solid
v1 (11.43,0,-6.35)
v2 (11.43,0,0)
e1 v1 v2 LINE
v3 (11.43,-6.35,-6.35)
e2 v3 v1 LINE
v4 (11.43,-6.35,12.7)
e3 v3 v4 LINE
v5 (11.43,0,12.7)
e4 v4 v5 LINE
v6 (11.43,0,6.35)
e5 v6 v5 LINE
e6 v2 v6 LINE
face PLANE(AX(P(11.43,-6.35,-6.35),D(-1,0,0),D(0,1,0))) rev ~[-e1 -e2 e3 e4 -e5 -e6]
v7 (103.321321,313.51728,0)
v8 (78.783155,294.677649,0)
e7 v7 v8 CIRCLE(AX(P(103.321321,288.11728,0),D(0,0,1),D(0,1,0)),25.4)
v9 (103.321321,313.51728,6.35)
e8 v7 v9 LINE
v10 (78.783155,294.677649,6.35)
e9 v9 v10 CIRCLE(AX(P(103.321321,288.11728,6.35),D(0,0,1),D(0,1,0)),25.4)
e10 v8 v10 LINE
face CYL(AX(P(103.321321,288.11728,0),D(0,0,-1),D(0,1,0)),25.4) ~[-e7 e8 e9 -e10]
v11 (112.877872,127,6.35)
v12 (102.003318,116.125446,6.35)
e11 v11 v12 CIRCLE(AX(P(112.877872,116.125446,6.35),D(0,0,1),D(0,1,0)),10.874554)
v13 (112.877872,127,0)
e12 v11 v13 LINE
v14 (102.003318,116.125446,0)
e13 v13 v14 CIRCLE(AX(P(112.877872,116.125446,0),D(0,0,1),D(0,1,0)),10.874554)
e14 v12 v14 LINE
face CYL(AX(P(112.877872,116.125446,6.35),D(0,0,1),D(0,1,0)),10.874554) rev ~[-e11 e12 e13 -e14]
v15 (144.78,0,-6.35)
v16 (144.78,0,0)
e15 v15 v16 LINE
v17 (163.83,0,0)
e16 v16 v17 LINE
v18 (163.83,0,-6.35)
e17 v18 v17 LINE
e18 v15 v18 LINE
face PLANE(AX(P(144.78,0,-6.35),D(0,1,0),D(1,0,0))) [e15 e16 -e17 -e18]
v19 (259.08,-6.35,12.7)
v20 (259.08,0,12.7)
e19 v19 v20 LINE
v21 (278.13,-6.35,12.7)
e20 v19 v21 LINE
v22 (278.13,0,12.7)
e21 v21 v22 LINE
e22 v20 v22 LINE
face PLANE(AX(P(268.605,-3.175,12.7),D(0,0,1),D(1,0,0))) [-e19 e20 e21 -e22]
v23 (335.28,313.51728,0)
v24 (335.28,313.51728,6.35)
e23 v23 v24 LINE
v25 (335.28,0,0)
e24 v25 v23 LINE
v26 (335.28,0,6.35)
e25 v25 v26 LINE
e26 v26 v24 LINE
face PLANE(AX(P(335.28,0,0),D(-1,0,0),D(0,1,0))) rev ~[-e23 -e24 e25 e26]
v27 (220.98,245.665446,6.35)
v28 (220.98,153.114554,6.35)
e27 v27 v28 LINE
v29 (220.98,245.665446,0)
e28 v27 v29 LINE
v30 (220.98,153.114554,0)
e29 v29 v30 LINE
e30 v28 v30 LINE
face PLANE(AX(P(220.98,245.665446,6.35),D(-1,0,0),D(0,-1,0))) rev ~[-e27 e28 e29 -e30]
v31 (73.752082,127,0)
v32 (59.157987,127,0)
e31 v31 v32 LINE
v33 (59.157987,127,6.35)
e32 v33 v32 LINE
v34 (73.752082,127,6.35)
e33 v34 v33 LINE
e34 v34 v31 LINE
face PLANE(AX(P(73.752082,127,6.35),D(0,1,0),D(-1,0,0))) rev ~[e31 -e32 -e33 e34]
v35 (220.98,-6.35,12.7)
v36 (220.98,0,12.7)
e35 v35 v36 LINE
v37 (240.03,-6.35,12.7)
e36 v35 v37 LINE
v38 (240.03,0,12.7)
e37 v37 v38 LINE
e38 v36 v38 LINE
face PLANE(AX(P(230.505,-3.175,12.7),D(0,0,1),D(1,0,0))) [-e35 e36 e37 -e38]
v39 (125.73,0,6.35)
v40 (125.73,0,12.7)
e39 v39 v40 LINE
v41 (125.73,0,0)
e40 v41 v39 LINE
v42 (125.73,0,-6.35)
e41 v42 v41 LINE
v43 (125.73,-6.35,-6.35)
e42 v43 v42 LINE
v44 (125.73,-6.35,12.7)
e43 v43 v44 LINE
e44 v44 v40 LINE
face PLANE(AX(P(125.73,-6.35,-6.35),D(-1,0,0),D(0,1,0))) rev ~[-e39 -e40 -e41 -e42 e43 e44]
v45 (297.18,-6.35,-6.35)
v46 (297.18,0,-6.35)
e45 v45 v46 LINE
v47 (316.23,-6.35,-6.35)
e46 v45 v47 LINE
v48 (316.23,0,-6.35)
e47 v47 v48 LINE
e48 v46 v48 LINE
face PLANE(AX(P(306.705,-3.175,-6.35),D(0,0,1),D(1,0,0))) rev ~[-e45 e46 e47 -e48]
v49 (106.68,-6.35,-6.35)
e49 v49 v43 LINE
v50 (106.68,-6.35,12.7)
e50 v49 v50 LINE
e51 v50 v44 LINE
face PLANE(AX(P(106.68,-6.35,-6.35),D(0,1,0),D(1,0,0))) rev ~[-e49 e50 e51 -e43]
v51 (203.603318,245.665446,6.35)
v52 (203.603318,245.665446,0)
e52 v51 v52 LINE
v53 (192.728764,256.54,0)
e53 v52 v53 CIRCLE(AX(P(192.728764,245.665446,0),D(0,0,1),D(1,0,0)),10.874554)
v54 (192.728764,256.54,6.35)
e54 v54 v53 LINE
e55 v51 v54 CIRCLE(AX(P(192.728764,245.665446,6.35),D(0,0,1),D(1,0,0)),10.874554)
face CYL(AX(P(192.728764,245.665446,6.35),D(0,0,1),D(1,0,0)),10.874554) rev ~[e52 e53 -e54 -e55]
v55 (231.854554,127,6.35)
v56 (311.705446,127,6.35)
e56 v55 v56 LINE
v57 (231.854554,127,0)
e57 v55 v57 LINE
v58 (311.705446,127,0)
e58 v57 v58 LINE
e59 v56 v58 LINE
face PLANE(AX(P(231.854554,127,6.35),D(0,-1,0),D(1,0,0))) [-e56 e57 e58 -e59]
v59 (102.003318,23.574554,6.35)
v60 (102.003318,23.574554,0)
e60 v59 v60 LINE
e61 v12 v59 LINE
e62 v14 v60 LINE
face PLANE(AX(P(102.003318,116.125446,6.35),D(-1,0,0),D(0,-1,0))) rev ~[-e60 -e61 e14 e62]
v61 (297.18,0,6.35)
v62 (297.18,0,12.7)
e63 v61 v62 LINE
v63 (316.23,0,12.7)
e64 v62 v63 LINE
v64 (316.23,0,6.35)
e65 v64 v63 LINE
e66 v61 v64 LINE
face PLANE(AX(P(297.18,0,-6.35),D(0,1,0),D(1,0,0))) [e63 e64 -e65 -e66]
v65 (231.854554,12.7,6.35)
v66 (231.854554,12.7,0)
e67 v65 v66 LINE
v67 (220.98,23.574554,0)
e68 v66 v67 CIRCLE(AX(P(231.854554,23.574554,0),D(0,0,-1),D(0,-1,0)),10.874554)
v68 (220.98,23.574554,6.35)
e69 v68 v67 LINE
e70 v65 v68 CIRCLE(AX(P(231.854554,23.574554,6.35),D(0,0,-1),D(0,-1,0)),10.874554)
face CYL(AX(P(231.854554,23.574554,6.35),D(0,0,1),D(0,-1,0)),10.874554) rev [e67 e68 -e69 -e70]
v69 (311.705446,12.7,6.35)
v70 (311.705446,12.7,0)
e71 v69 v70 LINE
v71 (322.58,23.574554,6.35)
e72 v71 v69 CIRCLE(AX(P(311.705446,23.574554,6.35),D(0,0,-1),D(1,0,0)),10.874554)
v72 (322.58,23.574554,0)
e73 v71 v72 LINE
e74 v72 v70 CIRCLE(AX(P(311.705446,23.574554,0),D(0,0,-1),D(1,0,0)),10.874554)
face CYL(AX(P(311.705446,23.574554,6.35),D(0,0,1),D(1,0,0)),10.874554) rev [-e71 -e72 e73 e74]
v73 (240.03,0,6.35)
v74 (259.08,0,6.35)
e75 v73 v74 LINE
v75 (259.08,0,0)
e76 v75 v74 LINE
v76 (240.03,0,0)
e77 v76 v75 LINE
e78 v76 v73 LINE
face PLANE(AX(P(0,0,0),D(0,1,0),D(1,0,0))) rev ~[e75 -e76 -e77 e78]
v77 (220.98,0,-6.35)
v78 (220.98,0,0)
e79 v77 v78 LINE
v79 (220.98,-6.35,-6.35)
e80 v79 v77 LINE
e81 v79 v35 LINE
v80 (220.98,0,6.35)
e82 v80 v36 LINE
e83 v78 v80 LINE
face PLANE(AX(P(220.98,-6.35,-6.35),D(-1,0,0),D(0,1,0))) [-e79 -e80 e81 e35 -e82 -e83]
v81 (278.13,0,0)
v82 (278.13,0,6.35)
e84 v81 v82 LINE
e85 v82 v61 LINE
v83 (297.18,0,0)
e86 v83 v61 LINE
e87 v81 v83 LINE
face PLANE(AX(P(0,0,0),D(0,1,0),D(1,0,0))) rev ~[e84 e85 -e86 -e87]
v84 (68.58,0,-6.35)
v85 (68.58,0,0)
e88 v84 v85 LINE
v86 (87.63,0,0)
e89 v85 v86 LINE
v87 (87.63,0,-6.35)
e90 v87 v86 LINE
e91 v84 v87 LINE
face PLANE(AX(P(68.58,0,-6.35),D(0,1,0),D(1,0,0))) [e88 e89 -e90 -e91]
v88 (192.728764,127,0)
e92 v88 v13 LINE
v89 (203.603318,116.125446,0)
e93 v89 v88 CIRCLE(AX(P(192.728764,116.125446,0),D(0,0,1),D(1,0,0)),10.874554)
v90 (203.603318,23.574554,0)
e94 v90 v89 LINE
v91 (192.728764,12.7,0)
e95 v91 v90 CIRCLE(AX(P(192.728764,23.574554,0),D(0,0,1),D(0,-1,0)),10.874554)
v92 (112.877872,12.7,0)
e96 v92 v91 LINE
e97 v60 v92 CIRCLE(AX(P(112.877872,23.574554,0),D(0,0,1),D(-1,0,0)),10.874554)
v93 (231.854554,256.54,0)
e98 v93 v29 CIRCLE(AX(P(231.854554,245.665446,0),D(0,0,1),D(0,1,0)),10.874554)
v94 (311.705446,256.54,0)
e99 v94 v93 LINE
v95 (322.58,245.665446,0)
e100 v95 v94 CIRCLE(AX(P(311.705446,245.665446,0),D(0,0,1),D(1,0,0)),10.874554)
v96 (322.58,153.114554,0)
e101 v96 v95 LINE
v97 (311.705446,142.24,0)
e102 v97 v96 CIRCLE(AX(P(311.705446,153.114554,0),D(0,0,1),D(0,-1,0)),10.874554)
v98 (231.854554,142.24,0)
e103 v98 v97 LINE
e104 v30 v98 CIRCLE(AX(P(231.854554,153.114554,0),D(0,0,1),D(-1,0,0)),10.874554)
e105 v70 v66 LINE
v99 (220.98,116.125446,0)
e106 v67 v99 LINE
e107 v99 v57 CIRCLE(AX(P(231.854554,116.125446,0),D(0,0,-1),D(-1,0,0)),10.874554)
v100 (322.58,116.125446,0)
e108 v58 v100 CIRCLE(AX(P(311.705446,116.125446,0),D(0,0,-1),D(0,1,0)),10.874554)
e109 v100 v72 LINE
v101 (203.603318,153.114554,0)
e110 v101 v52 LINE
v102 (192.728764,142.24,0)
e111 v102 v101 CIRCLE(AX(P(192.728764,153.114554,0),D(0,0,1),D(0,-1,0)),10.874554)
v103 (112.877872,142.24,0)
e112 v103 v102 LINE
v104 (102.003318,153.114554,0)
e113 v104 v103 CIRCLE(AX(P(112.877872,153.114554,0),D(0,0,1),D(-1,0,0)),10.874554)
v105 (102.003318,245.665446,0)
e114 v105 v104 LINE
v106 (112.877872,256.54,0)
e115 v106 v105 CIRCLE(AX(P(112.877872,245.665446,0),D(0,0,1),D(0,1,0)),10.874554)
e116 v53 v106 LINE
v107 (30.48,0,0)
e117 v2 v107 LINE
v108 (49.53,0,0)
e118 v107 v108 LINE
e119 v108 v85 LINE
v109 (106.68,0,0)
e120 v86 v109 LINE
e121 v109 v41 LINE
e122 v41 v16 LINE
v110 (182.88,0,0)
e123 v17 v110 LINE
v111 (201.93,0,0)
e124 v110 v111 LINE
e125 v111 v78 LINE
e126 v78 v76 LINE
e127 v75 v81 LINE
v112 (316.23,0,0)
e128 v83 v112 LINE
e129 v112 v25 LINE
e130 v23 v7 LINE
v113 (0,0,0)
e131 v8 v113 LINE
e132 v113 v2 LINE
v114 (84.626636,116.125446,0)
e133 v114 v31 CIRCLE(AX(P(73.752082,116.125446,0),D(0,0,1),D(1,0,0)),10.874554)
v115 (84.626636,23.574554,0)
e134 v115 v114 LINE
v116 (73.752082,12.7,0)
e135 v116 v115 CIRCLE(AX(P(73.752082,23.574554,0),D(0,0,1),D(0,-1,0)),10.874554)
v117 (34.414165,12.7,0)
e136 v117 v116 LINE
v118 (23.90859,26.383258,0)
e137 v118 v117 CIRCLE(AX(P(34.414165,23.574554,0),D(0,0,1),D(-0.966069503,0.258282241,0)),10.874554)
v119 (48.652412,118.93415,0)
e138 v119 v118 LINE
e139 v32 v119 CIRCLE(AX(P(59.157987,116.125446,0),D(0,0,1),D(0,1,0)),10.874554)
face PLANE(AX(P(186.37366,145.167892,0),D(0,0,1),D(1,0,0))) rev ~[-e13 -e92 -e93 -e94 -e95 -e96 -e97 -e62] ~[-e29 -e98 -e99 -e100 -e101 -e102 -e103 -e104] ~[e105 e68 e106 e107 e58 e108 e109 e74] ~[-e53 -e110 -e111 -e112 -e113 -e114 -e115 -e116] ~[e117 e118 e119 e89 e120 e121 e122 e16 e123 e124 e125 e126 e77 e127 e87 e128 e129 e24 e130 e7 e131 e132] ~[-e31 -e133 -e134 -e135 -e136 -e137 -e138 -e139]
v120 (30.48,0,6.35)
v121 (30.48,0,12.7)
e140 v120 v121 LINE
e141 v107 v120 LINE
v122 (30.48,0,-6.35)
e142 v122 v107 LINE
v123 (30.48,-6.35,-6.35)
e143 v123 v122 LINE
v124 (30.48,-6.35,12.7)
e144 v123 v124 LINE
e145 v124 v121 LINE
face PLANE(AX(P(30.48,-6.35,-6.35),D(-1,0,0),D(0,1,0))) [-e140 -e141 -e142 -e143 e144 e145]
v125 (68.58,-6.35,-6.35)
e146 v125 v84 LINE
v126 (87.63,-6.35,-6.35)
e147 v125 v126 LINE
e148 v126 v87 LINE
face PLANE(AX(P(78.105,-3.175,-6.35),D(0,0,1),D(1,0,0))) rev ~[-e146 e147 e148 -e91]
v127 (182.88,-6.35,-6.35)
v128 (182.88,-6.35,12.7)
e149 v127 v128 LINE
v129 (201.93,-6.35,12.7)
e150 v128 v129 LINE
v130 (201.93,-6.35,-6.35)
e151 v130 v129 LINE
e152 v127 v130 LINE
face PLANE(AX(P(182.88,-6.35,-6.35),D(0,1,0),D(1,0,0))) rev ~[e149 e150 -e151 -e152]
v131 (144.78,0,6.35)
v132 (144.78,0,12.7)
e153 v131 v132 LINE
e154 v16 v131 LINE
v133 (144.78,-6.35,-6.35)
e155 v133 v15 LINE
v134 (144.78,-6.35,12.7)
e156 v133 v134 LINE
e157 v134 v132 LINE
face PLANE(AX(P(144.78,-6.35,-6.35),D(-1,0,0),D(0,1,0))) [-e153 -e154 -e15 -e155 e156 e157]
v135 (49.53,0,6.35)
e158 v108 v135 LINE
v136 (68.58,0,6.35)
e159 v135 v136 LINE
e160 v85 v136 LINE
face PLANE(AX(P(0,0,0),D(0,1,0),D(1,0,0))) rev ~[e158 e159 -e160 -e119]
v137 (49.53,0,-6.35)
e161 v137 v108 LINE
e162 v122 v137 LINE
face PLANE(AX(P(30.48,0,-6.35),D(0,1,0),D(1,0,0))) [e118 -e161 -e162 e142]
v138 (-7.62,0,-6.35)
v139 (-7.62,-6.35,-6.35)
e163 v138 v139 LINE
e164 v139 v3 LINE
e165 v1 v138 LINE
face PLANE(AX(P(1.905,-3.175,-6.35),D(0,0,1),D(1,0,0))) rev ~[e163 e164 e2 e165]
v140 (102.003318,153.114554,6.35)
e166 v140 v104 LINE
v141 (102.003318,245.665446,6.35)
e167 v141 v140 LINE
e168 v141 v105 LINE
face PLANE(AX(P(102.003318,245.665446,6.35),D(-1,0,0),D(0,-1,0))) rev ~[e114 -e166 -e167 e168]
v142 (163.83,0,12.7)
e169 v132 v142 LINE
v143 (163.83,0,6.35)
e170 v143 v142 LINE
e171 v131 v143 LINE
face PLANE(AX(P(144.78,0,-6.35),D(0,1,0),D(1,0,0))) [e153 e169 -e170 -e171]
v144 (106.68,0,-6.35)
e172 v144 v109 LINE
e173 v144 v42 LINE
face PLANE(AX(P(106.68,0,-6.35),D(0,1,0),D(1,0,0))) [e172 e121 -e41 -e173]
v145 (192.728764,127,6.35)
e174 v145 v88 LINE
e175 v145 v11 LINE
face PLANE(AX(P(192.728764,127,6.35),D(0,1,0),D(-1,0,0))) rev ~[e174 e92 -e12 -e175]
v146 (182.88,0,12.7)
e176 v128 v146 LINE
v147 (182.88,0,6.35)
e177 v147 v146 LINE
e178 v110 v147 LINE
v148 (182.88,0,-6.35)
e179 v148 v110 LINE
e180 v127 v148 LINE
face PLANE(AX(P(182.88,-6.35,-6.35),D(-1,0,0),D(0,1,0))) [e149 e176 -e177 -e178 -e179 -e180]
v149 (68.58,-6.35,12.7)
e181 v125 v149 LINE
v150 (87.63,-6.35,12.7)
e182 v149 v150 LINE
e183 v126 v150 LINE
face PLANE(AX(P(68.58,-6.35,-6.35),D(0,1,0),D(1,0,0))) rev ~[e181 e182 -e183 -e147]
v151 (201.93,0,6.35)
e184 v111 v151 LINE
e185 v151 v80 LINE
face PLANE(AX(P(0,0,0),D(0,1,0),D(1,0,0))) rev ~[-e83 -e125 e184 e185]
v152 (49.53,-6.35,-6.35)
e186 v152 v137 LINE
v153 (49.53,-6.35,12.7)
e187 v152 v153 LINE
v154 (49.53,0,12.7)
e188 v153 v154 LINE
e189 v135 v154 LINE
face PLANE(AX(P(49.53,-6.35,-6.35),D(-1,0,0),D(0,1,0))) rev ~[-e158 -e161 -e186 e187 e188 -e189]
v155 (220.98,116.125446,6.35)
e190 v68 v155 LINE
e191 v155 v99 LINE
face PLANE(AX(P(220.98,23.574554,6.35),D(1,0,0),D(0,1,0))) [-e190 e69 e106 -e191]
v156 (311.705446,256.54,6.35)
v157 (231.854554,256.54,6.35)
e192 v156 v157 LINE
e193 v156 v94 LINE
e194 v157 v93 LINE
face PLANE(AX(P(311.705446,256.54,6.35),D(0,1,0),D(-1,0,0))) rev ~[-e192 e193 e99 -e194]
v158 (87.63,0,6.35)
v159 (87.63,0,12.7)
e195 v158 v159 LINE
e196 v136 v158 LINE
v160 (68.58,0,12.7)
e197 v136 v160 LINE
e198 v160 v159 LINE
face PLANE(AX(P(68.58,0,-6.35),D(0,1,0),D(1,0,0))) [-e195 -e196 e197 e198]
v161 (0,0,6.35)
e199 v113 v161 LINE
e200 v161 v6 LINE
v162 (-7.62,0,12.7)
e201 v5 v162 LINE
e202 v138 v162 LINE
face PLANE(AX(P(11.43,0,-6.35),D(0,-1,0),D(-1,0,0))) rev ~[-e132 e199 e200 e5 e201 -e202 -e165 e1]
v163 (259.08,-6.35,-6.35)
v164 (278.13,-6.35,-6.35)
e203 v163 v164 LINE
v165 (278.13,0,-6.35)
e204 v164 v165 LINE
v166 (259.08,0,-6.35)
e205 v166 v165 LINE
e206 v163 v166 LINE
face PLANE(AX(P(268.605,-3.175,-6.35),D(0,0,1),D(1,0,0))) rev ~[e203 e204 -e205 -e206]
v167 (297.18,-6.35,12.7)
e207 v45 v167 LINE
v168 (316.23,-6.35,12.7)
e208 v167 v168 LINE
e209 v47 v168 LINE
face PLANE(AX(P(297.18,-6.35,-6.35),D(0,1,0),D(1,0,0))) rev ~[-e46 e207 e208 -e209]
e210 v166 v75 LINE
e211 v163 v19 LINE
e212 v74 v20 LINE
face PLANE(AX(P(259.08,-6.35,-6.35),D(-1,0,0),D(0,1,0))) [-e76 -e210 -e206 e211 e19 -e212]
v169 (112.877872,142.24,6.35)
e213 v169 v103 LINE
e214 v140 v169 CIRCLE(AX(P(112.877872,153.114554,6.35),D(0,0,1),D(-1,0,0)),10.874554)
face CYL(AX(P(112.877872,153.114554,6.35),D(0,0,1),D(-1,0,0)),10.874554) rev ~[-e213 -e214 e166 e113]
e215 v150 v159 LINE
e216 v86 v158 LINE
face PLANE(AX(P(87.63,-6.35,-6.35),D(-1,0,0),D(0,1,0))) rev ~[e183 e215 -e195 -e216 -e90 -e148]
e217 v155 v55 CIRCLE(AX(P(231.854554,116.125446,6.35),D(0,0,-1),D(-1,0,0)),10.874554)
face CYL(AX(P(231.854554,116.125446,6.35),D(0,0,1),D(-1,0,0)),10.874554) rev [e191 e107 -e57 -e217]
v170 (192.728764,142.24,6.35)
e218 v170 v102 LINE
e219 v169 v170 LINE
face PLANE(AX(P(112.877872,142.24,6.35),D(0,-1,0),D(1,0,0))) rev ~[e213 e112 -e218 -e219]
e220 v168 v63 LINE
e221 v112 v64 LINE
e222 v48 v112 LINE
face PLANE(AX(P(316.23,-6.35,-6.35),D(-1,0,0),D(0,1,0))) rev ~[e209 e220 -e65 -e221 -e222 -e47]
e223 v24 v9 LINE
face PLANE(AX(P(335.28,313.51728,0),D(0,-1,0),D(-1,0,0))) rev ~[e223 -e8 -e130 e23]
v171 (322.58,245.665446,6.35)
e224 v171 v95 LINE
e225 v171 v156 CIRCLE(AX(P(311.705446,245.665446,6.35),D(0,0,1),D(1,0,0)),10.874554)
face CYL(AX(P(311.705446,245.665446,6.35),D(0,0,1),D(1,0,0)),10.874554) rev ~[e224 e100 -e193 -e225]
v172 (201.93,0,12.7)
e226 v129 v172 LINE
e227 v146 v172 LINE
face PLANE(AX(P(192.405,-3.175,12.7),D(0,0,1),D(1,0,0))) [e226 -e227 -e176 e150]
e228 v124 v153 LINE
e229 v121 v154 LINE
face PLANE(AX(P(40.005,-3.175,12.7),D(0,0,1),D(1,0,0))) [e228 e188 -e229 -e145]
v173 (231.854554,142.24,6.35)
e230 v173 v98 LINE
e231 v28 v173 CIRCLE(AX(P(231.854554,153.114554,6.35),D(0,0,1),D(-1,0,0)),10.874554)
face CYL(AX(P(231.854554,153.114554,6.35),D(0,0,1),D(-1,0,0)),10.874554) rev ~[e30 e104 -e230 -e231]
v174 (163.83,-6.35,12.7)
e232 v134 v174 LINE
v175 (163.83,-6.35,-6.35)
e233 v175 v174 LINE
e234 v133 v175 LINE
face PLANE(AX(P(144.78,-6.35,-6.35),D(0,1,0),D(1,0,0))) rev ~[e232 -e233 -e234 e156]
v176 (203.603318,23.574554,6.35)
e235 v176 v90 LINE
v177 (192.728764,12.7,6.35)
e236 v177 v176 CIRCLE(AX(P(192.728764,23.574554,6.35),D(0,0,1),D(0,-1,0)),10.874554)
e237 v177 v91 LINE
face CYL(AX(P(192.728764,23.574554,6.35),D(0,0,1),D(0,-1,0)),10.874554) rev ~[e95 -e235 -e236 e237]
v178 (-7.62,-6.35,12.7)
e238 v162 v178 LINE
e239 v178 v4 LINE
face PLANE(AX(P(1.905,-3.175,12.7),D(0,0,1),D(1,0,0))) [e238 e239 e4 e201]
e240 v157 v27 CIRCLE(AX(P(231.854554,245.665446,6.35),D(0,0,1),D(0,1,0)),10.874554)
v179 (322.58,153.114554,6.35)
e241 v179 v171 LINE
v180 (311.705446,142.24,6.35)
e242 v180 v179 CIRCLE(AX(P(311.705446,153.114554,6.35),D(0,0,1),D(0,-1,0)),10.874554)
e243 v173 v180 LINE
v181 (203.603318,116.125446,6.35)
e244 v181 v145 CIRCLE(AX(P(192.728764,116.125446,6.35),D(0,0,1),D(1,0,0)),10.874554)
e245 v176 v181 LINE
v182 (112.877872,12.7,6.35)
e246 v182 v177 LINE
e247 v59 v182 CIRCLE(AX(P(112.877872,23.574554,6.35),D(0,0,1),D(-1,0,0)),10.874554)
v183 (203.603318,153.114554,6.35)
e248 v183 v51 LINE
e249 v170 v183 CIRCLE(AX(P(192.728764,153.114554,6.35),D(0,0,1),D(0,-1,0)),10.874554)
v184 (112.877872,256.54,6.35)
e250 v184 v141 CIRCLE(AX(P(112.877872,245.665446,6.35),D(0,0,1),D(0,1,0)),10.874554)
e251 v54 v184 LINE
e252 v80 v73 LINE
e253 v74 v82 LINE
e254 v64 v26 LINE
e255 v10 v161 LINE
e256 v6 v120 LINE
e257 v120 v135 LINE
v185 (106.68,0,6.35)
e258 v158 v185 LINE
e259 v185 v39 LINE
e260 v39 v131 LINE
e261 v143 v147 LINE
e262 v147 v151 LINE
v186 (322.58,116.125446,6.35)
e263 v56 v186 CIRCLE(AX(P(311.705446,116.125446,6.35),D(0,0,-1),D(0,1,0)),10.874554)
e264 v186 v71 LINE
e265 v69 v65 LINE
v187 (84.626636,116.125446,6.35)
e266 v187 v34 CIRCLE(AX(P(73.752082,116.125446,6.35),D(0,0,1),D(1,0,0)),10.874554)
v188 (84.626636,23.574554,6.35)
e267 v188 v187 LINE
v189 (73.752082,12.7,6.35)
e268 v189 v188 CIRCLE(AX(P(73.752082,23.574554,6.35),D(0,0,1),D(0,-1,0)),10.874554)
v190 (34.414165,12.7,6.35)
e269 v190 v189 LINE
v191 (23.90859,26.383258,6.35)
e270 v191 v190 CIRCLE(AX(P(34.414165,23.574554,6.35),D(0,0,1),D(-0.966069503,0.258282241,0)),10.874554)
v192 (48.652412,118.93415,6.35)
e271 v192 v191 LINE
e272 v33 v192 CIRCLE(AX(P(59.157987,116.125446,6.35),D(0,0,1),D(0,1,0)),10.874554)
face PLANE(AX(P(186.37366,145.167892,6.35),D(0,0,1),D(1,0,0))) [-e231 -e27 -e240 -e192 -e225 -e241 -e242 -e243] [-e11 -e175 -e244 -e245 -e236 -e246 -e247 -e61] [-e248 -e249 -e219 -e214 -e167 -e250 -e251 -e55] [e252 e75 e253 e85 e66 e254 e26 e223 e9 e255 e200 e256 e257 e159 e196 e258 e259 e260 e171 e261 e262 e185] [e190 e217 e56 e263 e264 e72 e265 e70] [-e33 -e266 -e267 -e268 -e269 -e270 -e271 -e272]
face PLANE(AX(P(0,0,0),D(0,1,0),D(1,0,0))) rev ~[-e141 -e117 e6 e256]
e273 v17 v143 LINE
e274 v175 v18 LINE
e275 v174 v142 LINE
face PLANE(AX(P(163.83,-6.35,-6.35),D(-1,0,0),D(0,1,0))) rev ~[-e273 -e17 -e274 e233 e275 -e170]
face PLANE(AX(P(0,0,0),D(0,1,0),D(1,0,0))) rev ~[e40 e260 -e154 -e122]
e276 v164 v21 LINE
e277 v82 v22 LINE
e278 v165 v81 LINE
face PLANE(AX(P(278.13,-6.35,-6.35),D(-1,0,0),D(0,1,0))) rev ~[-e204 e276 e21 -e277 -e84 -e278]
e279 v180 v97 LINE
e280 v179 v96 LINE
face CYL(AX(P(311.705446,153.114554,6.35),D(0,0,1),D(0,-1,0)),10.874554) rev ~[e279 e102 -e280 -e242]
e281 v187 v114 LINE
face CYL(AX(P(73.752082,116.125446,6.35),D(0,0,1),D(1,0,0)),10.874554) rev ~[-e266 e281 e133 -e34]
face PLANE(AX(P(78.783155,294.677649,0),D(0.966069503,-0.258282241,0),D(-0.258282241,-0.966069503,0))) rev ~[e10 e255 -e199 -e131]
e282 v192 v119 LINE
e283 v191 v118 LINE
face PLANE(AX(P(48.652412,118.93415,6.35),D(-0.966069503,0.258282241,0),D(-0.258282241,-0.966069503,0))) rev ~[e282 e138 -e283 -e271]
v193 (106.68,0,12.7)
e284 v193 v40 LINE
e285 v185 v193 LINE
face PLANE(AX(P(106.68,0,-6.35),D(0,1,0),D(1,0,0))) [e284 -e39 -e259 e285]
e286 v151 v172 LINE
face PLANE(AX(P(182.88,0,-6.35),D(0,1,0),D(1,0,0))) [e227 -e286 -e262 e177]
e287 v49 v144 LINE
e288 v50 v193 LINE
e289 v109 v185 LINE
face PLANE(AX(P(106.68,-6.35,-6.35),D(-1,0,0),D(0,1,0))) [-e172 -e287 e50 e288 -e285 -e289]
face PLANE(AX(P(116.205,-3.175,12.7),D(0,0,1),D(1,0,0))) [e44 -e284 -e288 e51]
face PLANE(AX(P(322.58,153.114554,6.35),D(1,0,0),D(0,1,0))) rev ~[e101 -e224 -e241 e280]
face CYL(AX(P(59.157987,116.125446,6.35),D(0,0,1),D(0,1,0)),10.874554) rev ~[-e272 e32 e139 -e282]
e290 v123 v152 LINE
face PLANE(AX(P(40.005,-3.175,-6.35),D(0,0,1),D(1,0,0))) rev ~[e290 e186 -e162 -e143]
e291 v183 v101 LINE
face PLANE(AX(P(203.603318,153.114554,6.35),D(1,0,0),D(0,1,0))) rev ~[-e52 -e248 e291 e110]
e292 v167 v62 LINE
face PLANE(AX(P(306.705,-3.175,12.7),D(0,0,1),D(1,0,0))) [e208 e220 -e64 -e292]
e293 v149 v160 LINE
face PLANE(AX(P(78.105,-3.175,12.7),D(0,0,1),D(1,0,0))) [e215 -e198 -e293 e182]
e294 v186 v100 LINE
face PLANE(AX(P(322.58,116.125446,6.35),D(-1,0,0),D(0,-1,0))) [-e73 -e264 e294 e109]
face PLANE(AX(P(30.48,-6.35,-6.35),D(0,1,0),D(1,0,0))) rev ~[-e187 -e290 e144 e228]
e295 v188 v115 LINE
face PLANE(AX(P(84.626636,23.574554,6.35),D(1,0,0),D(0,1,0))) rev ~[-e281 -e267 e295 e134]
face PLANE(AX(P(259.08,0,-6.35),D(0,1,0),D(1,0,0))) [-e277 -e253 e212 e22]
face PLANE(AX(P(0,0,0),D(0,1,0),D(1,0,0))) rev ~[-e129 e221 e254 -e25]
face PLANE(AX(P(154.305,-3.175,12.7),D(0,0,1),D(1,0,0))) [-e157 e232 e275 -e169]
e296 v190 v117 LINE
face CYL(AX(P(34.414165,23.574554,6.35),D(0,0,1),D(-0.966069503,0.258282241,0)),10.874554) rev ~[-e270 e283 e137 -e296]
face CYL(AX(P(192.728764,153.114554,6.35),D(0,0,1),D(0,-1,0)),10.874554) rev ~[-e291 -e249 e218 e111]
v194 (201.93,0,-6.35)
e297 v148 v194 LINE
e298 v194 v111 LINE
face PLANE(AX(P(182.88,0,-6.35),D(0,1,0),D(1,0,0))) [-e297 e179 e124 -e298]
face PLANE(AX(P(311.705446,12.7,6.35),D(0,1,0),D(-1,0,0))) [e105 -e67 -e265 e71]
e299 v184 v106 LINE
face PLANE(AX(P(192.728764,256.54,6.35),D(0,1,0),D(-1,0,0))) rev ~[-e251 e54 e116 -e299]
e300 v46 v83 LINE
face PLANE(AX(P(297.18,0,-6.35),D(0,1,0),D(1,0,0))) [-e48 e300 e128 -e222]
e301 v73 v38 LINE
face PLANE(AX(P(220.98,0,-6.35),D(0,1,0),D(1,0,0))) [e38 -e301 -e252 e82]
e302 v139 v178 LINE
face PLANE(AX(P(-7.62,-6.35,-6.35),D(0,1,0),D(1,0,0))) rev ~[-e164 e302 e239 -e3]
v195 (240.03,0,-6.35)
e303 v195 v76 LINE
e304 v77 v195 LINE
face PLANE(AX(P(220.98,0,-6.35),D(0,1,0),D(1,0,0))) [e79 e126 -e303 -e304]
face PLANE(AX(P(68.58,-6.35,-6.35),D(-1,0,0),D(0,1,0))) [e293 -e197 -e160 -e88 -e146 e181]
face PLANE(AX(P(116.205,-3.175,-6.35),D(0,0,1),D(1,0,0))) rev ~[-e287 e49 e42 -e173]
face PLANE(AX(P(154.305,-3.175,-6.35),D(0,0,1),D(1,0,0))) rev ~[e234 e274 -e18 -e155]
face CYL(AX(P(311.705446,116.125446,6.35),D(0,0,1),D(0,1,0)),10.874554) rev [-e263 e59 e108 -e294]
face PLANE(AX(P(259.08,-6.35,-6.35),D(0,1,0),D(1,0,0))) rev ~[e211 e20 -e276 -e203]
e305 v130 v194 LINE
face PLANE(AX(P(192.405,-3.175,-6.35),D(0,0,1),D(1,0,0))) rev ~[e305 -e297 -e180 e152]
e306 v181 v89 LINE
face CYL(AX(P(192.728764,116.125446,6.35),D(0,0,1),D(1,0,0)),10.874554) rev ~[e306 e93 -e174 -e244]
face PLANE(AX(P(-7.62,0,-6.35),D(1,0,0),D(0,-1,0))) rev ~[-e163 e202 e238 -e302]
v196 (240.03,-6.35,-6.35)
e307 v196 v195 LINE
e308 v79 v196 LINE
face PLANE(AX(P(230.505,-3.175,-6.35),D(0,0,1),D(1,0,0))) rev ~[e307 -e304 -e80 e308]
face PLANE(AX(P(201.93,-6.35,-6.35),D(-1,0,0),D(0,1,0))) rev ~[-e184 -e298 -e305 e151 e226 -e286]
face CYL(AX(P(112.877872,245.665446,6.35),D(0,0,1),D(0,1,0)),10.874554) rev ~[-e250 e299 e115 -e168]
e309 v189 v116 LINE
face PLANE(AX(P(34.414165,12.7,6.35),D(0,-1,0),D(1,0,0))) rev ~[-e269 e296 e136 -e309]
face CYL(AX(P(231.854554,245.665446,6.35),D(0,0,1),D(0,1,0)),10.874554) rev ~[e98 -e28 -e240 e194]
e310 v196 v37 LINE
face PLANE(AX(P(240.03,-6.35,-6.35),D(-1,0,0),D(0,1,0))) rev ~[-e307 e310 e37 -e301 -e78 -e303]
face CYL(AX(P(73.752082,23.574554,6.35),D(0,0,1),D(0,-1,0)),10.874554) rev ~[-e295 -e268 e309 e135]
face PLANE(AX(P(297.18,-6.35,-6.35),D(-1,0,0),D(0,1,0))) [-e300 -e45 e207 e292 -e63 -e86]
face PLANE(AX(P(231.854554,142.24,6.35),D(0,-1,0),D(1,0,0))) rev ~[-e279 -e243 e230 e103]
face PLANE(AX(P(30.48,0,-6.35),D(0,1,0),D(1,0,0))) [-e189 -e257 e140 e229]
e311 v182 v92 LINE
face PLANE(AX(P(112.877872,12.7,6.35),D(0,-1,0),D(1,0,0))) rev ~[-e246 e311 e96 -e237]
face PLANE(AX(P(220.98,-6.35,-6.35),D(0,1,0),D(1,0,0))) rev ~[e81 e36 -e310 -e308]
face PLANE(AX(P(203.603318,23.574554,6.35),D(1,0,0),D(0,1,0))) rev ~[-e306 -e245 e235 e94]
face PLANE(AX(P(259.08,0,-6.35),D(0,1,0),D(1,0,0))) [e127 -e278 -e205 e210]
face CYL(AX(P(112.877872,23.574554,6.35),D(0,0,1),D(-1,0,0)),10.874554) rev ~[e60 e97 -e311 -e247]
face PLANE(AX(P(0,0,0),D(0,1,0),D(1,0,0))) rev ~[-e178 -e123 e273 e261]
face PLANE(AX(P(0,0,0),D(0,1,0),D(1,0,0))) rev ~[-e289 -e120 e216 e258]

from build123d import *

# Parameters (mm, degrees)
BOSS_EXTRUDE1_DEPTH      = 6.35
CUT_EXTRUDE1_DEPTH       = 6.35
BOSS_EXTRUDE2_DEPTH      = 6.35
BOSS_EXTRUDE2_DEPTH_BACK = 12.7
SKETCH3_W                = 19.05
SKETCH3_H                = 6.35


with BuildPart() as part:
    # Sketch1 → Boss-Extrude1 (new body)
    with BuildSketch(Plane.XY):
        with BuildLine():
            Line((0, 0), (335.28, 0))
            Line((335.28, 0), (335.28, 313.51728))
            Line((335.28, 313.51728), (103.321320582, 313.51728))
            ThreePointArc((103.321320582, 313.51728), (87.853181888, 308.264157806), (78.783155215, 294.677648925))
            Line((78.783155215, 294.677648925), (0, 0))
        make_face()
    extrude(amount=BOSS_EXTRUDE1_DEPTH)

    # Sketch2 → Cut-Extrude1 (cut)
    with BuildSketch(Plane.XY.offset(6.35)):
        with BuildLine():
            Line((311.705446202, 12.7), (231.854553798, 12.7))
            ThreePointArc((231.854553798, 12.7), (224.165083065, 15.885083065), (220.98, 23.574553798))
            Line((220.98, 23.574553798), (220.98, 116.125446202))
            ThreePointArc((220.98, 116.125446202), (224.165083065, 123.814916935), (231.854553798, 127))
            Line((231.854553798, 127), (311.705446202, 127))
            ThreePointArc((311.705446202, 127), (319.394916935, 123.814916935), (322.58, 116.125446202))
            Line((322.58, 116.125446202), (322.58, 23.574553798))
            ThreePointArc((322.58, 23.574553798), (319.394916935, 15.885083065), (311.705446202, 12.7))
        make_face()
        with BuildLine():
            Line((203.603317785, 23.574553798), (203.603317785, 116.125446202))
            ThreePointArc((203.603317785, 116.125446202), (200.41823472, 123.814916935), (192.728763987, 127))
            Line((192.728763987, 127), (112.877871584, 127))
            ThreePointArc((112.877871584, 127), (105.18840085, 123.814916935), (102.003317785, 116.125446202))
            Line((102.003317785, 116.125446202), (102.003317785, 23.574553798))
            ThreePointArc((102.003317785, 23.574553798), (105.18840085, 15.885083065), (112.877871584, 12.7))
            Line((112.877871584, 12.7), (192.728763987, 12.7))
            ThreePointArc((192.728763987, 12.7), (200.41823472, 15.885083065), (203.603317785, 23.574553798))
        make_face()
        with BuildLine():
            Line((84.62663557, 23.574553798), (84.62663557, 116.125446202))
            ThreePointArc((84.62663557, 116.125446202), (81.441552505, 123.814916935), (73.752081772, 127))
            Line((73.752081772, 127), (59.157987156, 127))
            ThreePointArc((59.157987156, 127), (52.535581392, 124.750970083), (48.652412376, 118.934150328))
            Line((48.652412376, 118.934150328), (23.908590277, 26.383257925))
            ThreePointArc((23.908590277, 26.383257925), (25.788641176, 16.952148035), (34.414165057, 12.7))
            Line((34.414165057, 12.7), (73.752081772, 12.7))
            ThreePointArc((73.752081772, 12.7), (81.441552505, 15.885083065), (84.62663557, 23.574553798))
        make_face()
        with BuildLine():
            Line((203.603317785, 153.114553798), (203.603317785, 245.665446202))
            ThreePointArc((203.603317785, 245.665446202), (200.41823472, 253.354916935), (192.728763987, 256.54))
            Line((192.728763987, 256.54), (112.877871584, 256.54))
            ThreePointArc((112.877871584, 256.54), (105.18840085, 253.354916935), (102.003317785, 245.665446202))
            Line((102.003317785, 245.665446202), (102.003317785, 153.114553798))
            ThreePointArc((102.003317785, 153.114553798), (105.18840085, 145.425083065), (112.877871584, 142.24))
            Line((112.877871584, 142.24), (192.728763987, 142.24))
            ThreePointArc((192.728763987, 142.24), (200.41823472, 145.425083065), (203.603317785, 153.114553798))
        make_face()
        with BuildLine():
            Line((322.58, 153.114553798), (322.58, 245.665446202))
            ThreePointArc((322.58, 245.665446202), (319.394916935, 253.354916935), (311.705446202, 256.54))
            Line((311.705446202, 256.54), (231.854553798, 256.54))
            ThreePointArc((231.854553798, 256.54), (224.165083065, 253.354916935), (220.98, 245.665446202))
            Line((220.98, 245.665446202), (220.98, 153.114553798))
            ThreePointArc((220.98, 153.114553798), (224.165083065, 145.425083065), (231.854553798, 142.24))
            Line((231.854553798, 142.24), (311.705446202, 142.24))
            ThreePointArc((311.705446202, 142.24), (319.394916935, 145.425083065), (322.58, 153.114553798))
        make_face()
    extrude(amount=-CUT_EXTRUDE1_DEPTH, mode=Mode.SUBTRACT)

    # Sketch3 → Boss-Extrude2 (add, two sides: drawn at the far end of the back side and taken through both)
    with BuildSketch(Plane.XY.offset(6.35).offset(-BOSS_EXTRUDE2_DEPTH_BACK)):
        Polygon((11.43, -6.35), (11.43, 0), (0, 0), (-7.62, 0), (-7.62, -6.35), align=None)
        with Locations((40.005, -3.175)):
            Rectangle(SKETCH3_W, SKETCH3_H)
        with Locations((78.105, -3.175)):
            Rectangle(SKETCH3_W, SKETCH3_H)
        with Locations((116.205, -3.175)):
            Rectangle(SKETCH3_W, SKETCH3_H)
        with Locations((154.305, -3.175)):
            Rectangle(SKETCH3_W, SKETCH3_H)
        with Locations((192.405, -3.175)):
            Rectangle(SKETCH3_W, SKETCH3_H)
        with Locations((230.505, -3.175)):
            Rectangle(SKETCH3_W, SKETCH3_H)
        with Locations((268.605, -3.175)):
            Rectangle(SKETCH3_W, SKETCH3_H)
        with Locations((306.705, -3.175)):
            Rectangle(SKETCH3_W, SKETCH3_H)
    extrude(amount=BOSS_EXTRUDE2_DEPTH + BOSS_EXTRUDE2_DEPTH_BACK)


solid = part.part
